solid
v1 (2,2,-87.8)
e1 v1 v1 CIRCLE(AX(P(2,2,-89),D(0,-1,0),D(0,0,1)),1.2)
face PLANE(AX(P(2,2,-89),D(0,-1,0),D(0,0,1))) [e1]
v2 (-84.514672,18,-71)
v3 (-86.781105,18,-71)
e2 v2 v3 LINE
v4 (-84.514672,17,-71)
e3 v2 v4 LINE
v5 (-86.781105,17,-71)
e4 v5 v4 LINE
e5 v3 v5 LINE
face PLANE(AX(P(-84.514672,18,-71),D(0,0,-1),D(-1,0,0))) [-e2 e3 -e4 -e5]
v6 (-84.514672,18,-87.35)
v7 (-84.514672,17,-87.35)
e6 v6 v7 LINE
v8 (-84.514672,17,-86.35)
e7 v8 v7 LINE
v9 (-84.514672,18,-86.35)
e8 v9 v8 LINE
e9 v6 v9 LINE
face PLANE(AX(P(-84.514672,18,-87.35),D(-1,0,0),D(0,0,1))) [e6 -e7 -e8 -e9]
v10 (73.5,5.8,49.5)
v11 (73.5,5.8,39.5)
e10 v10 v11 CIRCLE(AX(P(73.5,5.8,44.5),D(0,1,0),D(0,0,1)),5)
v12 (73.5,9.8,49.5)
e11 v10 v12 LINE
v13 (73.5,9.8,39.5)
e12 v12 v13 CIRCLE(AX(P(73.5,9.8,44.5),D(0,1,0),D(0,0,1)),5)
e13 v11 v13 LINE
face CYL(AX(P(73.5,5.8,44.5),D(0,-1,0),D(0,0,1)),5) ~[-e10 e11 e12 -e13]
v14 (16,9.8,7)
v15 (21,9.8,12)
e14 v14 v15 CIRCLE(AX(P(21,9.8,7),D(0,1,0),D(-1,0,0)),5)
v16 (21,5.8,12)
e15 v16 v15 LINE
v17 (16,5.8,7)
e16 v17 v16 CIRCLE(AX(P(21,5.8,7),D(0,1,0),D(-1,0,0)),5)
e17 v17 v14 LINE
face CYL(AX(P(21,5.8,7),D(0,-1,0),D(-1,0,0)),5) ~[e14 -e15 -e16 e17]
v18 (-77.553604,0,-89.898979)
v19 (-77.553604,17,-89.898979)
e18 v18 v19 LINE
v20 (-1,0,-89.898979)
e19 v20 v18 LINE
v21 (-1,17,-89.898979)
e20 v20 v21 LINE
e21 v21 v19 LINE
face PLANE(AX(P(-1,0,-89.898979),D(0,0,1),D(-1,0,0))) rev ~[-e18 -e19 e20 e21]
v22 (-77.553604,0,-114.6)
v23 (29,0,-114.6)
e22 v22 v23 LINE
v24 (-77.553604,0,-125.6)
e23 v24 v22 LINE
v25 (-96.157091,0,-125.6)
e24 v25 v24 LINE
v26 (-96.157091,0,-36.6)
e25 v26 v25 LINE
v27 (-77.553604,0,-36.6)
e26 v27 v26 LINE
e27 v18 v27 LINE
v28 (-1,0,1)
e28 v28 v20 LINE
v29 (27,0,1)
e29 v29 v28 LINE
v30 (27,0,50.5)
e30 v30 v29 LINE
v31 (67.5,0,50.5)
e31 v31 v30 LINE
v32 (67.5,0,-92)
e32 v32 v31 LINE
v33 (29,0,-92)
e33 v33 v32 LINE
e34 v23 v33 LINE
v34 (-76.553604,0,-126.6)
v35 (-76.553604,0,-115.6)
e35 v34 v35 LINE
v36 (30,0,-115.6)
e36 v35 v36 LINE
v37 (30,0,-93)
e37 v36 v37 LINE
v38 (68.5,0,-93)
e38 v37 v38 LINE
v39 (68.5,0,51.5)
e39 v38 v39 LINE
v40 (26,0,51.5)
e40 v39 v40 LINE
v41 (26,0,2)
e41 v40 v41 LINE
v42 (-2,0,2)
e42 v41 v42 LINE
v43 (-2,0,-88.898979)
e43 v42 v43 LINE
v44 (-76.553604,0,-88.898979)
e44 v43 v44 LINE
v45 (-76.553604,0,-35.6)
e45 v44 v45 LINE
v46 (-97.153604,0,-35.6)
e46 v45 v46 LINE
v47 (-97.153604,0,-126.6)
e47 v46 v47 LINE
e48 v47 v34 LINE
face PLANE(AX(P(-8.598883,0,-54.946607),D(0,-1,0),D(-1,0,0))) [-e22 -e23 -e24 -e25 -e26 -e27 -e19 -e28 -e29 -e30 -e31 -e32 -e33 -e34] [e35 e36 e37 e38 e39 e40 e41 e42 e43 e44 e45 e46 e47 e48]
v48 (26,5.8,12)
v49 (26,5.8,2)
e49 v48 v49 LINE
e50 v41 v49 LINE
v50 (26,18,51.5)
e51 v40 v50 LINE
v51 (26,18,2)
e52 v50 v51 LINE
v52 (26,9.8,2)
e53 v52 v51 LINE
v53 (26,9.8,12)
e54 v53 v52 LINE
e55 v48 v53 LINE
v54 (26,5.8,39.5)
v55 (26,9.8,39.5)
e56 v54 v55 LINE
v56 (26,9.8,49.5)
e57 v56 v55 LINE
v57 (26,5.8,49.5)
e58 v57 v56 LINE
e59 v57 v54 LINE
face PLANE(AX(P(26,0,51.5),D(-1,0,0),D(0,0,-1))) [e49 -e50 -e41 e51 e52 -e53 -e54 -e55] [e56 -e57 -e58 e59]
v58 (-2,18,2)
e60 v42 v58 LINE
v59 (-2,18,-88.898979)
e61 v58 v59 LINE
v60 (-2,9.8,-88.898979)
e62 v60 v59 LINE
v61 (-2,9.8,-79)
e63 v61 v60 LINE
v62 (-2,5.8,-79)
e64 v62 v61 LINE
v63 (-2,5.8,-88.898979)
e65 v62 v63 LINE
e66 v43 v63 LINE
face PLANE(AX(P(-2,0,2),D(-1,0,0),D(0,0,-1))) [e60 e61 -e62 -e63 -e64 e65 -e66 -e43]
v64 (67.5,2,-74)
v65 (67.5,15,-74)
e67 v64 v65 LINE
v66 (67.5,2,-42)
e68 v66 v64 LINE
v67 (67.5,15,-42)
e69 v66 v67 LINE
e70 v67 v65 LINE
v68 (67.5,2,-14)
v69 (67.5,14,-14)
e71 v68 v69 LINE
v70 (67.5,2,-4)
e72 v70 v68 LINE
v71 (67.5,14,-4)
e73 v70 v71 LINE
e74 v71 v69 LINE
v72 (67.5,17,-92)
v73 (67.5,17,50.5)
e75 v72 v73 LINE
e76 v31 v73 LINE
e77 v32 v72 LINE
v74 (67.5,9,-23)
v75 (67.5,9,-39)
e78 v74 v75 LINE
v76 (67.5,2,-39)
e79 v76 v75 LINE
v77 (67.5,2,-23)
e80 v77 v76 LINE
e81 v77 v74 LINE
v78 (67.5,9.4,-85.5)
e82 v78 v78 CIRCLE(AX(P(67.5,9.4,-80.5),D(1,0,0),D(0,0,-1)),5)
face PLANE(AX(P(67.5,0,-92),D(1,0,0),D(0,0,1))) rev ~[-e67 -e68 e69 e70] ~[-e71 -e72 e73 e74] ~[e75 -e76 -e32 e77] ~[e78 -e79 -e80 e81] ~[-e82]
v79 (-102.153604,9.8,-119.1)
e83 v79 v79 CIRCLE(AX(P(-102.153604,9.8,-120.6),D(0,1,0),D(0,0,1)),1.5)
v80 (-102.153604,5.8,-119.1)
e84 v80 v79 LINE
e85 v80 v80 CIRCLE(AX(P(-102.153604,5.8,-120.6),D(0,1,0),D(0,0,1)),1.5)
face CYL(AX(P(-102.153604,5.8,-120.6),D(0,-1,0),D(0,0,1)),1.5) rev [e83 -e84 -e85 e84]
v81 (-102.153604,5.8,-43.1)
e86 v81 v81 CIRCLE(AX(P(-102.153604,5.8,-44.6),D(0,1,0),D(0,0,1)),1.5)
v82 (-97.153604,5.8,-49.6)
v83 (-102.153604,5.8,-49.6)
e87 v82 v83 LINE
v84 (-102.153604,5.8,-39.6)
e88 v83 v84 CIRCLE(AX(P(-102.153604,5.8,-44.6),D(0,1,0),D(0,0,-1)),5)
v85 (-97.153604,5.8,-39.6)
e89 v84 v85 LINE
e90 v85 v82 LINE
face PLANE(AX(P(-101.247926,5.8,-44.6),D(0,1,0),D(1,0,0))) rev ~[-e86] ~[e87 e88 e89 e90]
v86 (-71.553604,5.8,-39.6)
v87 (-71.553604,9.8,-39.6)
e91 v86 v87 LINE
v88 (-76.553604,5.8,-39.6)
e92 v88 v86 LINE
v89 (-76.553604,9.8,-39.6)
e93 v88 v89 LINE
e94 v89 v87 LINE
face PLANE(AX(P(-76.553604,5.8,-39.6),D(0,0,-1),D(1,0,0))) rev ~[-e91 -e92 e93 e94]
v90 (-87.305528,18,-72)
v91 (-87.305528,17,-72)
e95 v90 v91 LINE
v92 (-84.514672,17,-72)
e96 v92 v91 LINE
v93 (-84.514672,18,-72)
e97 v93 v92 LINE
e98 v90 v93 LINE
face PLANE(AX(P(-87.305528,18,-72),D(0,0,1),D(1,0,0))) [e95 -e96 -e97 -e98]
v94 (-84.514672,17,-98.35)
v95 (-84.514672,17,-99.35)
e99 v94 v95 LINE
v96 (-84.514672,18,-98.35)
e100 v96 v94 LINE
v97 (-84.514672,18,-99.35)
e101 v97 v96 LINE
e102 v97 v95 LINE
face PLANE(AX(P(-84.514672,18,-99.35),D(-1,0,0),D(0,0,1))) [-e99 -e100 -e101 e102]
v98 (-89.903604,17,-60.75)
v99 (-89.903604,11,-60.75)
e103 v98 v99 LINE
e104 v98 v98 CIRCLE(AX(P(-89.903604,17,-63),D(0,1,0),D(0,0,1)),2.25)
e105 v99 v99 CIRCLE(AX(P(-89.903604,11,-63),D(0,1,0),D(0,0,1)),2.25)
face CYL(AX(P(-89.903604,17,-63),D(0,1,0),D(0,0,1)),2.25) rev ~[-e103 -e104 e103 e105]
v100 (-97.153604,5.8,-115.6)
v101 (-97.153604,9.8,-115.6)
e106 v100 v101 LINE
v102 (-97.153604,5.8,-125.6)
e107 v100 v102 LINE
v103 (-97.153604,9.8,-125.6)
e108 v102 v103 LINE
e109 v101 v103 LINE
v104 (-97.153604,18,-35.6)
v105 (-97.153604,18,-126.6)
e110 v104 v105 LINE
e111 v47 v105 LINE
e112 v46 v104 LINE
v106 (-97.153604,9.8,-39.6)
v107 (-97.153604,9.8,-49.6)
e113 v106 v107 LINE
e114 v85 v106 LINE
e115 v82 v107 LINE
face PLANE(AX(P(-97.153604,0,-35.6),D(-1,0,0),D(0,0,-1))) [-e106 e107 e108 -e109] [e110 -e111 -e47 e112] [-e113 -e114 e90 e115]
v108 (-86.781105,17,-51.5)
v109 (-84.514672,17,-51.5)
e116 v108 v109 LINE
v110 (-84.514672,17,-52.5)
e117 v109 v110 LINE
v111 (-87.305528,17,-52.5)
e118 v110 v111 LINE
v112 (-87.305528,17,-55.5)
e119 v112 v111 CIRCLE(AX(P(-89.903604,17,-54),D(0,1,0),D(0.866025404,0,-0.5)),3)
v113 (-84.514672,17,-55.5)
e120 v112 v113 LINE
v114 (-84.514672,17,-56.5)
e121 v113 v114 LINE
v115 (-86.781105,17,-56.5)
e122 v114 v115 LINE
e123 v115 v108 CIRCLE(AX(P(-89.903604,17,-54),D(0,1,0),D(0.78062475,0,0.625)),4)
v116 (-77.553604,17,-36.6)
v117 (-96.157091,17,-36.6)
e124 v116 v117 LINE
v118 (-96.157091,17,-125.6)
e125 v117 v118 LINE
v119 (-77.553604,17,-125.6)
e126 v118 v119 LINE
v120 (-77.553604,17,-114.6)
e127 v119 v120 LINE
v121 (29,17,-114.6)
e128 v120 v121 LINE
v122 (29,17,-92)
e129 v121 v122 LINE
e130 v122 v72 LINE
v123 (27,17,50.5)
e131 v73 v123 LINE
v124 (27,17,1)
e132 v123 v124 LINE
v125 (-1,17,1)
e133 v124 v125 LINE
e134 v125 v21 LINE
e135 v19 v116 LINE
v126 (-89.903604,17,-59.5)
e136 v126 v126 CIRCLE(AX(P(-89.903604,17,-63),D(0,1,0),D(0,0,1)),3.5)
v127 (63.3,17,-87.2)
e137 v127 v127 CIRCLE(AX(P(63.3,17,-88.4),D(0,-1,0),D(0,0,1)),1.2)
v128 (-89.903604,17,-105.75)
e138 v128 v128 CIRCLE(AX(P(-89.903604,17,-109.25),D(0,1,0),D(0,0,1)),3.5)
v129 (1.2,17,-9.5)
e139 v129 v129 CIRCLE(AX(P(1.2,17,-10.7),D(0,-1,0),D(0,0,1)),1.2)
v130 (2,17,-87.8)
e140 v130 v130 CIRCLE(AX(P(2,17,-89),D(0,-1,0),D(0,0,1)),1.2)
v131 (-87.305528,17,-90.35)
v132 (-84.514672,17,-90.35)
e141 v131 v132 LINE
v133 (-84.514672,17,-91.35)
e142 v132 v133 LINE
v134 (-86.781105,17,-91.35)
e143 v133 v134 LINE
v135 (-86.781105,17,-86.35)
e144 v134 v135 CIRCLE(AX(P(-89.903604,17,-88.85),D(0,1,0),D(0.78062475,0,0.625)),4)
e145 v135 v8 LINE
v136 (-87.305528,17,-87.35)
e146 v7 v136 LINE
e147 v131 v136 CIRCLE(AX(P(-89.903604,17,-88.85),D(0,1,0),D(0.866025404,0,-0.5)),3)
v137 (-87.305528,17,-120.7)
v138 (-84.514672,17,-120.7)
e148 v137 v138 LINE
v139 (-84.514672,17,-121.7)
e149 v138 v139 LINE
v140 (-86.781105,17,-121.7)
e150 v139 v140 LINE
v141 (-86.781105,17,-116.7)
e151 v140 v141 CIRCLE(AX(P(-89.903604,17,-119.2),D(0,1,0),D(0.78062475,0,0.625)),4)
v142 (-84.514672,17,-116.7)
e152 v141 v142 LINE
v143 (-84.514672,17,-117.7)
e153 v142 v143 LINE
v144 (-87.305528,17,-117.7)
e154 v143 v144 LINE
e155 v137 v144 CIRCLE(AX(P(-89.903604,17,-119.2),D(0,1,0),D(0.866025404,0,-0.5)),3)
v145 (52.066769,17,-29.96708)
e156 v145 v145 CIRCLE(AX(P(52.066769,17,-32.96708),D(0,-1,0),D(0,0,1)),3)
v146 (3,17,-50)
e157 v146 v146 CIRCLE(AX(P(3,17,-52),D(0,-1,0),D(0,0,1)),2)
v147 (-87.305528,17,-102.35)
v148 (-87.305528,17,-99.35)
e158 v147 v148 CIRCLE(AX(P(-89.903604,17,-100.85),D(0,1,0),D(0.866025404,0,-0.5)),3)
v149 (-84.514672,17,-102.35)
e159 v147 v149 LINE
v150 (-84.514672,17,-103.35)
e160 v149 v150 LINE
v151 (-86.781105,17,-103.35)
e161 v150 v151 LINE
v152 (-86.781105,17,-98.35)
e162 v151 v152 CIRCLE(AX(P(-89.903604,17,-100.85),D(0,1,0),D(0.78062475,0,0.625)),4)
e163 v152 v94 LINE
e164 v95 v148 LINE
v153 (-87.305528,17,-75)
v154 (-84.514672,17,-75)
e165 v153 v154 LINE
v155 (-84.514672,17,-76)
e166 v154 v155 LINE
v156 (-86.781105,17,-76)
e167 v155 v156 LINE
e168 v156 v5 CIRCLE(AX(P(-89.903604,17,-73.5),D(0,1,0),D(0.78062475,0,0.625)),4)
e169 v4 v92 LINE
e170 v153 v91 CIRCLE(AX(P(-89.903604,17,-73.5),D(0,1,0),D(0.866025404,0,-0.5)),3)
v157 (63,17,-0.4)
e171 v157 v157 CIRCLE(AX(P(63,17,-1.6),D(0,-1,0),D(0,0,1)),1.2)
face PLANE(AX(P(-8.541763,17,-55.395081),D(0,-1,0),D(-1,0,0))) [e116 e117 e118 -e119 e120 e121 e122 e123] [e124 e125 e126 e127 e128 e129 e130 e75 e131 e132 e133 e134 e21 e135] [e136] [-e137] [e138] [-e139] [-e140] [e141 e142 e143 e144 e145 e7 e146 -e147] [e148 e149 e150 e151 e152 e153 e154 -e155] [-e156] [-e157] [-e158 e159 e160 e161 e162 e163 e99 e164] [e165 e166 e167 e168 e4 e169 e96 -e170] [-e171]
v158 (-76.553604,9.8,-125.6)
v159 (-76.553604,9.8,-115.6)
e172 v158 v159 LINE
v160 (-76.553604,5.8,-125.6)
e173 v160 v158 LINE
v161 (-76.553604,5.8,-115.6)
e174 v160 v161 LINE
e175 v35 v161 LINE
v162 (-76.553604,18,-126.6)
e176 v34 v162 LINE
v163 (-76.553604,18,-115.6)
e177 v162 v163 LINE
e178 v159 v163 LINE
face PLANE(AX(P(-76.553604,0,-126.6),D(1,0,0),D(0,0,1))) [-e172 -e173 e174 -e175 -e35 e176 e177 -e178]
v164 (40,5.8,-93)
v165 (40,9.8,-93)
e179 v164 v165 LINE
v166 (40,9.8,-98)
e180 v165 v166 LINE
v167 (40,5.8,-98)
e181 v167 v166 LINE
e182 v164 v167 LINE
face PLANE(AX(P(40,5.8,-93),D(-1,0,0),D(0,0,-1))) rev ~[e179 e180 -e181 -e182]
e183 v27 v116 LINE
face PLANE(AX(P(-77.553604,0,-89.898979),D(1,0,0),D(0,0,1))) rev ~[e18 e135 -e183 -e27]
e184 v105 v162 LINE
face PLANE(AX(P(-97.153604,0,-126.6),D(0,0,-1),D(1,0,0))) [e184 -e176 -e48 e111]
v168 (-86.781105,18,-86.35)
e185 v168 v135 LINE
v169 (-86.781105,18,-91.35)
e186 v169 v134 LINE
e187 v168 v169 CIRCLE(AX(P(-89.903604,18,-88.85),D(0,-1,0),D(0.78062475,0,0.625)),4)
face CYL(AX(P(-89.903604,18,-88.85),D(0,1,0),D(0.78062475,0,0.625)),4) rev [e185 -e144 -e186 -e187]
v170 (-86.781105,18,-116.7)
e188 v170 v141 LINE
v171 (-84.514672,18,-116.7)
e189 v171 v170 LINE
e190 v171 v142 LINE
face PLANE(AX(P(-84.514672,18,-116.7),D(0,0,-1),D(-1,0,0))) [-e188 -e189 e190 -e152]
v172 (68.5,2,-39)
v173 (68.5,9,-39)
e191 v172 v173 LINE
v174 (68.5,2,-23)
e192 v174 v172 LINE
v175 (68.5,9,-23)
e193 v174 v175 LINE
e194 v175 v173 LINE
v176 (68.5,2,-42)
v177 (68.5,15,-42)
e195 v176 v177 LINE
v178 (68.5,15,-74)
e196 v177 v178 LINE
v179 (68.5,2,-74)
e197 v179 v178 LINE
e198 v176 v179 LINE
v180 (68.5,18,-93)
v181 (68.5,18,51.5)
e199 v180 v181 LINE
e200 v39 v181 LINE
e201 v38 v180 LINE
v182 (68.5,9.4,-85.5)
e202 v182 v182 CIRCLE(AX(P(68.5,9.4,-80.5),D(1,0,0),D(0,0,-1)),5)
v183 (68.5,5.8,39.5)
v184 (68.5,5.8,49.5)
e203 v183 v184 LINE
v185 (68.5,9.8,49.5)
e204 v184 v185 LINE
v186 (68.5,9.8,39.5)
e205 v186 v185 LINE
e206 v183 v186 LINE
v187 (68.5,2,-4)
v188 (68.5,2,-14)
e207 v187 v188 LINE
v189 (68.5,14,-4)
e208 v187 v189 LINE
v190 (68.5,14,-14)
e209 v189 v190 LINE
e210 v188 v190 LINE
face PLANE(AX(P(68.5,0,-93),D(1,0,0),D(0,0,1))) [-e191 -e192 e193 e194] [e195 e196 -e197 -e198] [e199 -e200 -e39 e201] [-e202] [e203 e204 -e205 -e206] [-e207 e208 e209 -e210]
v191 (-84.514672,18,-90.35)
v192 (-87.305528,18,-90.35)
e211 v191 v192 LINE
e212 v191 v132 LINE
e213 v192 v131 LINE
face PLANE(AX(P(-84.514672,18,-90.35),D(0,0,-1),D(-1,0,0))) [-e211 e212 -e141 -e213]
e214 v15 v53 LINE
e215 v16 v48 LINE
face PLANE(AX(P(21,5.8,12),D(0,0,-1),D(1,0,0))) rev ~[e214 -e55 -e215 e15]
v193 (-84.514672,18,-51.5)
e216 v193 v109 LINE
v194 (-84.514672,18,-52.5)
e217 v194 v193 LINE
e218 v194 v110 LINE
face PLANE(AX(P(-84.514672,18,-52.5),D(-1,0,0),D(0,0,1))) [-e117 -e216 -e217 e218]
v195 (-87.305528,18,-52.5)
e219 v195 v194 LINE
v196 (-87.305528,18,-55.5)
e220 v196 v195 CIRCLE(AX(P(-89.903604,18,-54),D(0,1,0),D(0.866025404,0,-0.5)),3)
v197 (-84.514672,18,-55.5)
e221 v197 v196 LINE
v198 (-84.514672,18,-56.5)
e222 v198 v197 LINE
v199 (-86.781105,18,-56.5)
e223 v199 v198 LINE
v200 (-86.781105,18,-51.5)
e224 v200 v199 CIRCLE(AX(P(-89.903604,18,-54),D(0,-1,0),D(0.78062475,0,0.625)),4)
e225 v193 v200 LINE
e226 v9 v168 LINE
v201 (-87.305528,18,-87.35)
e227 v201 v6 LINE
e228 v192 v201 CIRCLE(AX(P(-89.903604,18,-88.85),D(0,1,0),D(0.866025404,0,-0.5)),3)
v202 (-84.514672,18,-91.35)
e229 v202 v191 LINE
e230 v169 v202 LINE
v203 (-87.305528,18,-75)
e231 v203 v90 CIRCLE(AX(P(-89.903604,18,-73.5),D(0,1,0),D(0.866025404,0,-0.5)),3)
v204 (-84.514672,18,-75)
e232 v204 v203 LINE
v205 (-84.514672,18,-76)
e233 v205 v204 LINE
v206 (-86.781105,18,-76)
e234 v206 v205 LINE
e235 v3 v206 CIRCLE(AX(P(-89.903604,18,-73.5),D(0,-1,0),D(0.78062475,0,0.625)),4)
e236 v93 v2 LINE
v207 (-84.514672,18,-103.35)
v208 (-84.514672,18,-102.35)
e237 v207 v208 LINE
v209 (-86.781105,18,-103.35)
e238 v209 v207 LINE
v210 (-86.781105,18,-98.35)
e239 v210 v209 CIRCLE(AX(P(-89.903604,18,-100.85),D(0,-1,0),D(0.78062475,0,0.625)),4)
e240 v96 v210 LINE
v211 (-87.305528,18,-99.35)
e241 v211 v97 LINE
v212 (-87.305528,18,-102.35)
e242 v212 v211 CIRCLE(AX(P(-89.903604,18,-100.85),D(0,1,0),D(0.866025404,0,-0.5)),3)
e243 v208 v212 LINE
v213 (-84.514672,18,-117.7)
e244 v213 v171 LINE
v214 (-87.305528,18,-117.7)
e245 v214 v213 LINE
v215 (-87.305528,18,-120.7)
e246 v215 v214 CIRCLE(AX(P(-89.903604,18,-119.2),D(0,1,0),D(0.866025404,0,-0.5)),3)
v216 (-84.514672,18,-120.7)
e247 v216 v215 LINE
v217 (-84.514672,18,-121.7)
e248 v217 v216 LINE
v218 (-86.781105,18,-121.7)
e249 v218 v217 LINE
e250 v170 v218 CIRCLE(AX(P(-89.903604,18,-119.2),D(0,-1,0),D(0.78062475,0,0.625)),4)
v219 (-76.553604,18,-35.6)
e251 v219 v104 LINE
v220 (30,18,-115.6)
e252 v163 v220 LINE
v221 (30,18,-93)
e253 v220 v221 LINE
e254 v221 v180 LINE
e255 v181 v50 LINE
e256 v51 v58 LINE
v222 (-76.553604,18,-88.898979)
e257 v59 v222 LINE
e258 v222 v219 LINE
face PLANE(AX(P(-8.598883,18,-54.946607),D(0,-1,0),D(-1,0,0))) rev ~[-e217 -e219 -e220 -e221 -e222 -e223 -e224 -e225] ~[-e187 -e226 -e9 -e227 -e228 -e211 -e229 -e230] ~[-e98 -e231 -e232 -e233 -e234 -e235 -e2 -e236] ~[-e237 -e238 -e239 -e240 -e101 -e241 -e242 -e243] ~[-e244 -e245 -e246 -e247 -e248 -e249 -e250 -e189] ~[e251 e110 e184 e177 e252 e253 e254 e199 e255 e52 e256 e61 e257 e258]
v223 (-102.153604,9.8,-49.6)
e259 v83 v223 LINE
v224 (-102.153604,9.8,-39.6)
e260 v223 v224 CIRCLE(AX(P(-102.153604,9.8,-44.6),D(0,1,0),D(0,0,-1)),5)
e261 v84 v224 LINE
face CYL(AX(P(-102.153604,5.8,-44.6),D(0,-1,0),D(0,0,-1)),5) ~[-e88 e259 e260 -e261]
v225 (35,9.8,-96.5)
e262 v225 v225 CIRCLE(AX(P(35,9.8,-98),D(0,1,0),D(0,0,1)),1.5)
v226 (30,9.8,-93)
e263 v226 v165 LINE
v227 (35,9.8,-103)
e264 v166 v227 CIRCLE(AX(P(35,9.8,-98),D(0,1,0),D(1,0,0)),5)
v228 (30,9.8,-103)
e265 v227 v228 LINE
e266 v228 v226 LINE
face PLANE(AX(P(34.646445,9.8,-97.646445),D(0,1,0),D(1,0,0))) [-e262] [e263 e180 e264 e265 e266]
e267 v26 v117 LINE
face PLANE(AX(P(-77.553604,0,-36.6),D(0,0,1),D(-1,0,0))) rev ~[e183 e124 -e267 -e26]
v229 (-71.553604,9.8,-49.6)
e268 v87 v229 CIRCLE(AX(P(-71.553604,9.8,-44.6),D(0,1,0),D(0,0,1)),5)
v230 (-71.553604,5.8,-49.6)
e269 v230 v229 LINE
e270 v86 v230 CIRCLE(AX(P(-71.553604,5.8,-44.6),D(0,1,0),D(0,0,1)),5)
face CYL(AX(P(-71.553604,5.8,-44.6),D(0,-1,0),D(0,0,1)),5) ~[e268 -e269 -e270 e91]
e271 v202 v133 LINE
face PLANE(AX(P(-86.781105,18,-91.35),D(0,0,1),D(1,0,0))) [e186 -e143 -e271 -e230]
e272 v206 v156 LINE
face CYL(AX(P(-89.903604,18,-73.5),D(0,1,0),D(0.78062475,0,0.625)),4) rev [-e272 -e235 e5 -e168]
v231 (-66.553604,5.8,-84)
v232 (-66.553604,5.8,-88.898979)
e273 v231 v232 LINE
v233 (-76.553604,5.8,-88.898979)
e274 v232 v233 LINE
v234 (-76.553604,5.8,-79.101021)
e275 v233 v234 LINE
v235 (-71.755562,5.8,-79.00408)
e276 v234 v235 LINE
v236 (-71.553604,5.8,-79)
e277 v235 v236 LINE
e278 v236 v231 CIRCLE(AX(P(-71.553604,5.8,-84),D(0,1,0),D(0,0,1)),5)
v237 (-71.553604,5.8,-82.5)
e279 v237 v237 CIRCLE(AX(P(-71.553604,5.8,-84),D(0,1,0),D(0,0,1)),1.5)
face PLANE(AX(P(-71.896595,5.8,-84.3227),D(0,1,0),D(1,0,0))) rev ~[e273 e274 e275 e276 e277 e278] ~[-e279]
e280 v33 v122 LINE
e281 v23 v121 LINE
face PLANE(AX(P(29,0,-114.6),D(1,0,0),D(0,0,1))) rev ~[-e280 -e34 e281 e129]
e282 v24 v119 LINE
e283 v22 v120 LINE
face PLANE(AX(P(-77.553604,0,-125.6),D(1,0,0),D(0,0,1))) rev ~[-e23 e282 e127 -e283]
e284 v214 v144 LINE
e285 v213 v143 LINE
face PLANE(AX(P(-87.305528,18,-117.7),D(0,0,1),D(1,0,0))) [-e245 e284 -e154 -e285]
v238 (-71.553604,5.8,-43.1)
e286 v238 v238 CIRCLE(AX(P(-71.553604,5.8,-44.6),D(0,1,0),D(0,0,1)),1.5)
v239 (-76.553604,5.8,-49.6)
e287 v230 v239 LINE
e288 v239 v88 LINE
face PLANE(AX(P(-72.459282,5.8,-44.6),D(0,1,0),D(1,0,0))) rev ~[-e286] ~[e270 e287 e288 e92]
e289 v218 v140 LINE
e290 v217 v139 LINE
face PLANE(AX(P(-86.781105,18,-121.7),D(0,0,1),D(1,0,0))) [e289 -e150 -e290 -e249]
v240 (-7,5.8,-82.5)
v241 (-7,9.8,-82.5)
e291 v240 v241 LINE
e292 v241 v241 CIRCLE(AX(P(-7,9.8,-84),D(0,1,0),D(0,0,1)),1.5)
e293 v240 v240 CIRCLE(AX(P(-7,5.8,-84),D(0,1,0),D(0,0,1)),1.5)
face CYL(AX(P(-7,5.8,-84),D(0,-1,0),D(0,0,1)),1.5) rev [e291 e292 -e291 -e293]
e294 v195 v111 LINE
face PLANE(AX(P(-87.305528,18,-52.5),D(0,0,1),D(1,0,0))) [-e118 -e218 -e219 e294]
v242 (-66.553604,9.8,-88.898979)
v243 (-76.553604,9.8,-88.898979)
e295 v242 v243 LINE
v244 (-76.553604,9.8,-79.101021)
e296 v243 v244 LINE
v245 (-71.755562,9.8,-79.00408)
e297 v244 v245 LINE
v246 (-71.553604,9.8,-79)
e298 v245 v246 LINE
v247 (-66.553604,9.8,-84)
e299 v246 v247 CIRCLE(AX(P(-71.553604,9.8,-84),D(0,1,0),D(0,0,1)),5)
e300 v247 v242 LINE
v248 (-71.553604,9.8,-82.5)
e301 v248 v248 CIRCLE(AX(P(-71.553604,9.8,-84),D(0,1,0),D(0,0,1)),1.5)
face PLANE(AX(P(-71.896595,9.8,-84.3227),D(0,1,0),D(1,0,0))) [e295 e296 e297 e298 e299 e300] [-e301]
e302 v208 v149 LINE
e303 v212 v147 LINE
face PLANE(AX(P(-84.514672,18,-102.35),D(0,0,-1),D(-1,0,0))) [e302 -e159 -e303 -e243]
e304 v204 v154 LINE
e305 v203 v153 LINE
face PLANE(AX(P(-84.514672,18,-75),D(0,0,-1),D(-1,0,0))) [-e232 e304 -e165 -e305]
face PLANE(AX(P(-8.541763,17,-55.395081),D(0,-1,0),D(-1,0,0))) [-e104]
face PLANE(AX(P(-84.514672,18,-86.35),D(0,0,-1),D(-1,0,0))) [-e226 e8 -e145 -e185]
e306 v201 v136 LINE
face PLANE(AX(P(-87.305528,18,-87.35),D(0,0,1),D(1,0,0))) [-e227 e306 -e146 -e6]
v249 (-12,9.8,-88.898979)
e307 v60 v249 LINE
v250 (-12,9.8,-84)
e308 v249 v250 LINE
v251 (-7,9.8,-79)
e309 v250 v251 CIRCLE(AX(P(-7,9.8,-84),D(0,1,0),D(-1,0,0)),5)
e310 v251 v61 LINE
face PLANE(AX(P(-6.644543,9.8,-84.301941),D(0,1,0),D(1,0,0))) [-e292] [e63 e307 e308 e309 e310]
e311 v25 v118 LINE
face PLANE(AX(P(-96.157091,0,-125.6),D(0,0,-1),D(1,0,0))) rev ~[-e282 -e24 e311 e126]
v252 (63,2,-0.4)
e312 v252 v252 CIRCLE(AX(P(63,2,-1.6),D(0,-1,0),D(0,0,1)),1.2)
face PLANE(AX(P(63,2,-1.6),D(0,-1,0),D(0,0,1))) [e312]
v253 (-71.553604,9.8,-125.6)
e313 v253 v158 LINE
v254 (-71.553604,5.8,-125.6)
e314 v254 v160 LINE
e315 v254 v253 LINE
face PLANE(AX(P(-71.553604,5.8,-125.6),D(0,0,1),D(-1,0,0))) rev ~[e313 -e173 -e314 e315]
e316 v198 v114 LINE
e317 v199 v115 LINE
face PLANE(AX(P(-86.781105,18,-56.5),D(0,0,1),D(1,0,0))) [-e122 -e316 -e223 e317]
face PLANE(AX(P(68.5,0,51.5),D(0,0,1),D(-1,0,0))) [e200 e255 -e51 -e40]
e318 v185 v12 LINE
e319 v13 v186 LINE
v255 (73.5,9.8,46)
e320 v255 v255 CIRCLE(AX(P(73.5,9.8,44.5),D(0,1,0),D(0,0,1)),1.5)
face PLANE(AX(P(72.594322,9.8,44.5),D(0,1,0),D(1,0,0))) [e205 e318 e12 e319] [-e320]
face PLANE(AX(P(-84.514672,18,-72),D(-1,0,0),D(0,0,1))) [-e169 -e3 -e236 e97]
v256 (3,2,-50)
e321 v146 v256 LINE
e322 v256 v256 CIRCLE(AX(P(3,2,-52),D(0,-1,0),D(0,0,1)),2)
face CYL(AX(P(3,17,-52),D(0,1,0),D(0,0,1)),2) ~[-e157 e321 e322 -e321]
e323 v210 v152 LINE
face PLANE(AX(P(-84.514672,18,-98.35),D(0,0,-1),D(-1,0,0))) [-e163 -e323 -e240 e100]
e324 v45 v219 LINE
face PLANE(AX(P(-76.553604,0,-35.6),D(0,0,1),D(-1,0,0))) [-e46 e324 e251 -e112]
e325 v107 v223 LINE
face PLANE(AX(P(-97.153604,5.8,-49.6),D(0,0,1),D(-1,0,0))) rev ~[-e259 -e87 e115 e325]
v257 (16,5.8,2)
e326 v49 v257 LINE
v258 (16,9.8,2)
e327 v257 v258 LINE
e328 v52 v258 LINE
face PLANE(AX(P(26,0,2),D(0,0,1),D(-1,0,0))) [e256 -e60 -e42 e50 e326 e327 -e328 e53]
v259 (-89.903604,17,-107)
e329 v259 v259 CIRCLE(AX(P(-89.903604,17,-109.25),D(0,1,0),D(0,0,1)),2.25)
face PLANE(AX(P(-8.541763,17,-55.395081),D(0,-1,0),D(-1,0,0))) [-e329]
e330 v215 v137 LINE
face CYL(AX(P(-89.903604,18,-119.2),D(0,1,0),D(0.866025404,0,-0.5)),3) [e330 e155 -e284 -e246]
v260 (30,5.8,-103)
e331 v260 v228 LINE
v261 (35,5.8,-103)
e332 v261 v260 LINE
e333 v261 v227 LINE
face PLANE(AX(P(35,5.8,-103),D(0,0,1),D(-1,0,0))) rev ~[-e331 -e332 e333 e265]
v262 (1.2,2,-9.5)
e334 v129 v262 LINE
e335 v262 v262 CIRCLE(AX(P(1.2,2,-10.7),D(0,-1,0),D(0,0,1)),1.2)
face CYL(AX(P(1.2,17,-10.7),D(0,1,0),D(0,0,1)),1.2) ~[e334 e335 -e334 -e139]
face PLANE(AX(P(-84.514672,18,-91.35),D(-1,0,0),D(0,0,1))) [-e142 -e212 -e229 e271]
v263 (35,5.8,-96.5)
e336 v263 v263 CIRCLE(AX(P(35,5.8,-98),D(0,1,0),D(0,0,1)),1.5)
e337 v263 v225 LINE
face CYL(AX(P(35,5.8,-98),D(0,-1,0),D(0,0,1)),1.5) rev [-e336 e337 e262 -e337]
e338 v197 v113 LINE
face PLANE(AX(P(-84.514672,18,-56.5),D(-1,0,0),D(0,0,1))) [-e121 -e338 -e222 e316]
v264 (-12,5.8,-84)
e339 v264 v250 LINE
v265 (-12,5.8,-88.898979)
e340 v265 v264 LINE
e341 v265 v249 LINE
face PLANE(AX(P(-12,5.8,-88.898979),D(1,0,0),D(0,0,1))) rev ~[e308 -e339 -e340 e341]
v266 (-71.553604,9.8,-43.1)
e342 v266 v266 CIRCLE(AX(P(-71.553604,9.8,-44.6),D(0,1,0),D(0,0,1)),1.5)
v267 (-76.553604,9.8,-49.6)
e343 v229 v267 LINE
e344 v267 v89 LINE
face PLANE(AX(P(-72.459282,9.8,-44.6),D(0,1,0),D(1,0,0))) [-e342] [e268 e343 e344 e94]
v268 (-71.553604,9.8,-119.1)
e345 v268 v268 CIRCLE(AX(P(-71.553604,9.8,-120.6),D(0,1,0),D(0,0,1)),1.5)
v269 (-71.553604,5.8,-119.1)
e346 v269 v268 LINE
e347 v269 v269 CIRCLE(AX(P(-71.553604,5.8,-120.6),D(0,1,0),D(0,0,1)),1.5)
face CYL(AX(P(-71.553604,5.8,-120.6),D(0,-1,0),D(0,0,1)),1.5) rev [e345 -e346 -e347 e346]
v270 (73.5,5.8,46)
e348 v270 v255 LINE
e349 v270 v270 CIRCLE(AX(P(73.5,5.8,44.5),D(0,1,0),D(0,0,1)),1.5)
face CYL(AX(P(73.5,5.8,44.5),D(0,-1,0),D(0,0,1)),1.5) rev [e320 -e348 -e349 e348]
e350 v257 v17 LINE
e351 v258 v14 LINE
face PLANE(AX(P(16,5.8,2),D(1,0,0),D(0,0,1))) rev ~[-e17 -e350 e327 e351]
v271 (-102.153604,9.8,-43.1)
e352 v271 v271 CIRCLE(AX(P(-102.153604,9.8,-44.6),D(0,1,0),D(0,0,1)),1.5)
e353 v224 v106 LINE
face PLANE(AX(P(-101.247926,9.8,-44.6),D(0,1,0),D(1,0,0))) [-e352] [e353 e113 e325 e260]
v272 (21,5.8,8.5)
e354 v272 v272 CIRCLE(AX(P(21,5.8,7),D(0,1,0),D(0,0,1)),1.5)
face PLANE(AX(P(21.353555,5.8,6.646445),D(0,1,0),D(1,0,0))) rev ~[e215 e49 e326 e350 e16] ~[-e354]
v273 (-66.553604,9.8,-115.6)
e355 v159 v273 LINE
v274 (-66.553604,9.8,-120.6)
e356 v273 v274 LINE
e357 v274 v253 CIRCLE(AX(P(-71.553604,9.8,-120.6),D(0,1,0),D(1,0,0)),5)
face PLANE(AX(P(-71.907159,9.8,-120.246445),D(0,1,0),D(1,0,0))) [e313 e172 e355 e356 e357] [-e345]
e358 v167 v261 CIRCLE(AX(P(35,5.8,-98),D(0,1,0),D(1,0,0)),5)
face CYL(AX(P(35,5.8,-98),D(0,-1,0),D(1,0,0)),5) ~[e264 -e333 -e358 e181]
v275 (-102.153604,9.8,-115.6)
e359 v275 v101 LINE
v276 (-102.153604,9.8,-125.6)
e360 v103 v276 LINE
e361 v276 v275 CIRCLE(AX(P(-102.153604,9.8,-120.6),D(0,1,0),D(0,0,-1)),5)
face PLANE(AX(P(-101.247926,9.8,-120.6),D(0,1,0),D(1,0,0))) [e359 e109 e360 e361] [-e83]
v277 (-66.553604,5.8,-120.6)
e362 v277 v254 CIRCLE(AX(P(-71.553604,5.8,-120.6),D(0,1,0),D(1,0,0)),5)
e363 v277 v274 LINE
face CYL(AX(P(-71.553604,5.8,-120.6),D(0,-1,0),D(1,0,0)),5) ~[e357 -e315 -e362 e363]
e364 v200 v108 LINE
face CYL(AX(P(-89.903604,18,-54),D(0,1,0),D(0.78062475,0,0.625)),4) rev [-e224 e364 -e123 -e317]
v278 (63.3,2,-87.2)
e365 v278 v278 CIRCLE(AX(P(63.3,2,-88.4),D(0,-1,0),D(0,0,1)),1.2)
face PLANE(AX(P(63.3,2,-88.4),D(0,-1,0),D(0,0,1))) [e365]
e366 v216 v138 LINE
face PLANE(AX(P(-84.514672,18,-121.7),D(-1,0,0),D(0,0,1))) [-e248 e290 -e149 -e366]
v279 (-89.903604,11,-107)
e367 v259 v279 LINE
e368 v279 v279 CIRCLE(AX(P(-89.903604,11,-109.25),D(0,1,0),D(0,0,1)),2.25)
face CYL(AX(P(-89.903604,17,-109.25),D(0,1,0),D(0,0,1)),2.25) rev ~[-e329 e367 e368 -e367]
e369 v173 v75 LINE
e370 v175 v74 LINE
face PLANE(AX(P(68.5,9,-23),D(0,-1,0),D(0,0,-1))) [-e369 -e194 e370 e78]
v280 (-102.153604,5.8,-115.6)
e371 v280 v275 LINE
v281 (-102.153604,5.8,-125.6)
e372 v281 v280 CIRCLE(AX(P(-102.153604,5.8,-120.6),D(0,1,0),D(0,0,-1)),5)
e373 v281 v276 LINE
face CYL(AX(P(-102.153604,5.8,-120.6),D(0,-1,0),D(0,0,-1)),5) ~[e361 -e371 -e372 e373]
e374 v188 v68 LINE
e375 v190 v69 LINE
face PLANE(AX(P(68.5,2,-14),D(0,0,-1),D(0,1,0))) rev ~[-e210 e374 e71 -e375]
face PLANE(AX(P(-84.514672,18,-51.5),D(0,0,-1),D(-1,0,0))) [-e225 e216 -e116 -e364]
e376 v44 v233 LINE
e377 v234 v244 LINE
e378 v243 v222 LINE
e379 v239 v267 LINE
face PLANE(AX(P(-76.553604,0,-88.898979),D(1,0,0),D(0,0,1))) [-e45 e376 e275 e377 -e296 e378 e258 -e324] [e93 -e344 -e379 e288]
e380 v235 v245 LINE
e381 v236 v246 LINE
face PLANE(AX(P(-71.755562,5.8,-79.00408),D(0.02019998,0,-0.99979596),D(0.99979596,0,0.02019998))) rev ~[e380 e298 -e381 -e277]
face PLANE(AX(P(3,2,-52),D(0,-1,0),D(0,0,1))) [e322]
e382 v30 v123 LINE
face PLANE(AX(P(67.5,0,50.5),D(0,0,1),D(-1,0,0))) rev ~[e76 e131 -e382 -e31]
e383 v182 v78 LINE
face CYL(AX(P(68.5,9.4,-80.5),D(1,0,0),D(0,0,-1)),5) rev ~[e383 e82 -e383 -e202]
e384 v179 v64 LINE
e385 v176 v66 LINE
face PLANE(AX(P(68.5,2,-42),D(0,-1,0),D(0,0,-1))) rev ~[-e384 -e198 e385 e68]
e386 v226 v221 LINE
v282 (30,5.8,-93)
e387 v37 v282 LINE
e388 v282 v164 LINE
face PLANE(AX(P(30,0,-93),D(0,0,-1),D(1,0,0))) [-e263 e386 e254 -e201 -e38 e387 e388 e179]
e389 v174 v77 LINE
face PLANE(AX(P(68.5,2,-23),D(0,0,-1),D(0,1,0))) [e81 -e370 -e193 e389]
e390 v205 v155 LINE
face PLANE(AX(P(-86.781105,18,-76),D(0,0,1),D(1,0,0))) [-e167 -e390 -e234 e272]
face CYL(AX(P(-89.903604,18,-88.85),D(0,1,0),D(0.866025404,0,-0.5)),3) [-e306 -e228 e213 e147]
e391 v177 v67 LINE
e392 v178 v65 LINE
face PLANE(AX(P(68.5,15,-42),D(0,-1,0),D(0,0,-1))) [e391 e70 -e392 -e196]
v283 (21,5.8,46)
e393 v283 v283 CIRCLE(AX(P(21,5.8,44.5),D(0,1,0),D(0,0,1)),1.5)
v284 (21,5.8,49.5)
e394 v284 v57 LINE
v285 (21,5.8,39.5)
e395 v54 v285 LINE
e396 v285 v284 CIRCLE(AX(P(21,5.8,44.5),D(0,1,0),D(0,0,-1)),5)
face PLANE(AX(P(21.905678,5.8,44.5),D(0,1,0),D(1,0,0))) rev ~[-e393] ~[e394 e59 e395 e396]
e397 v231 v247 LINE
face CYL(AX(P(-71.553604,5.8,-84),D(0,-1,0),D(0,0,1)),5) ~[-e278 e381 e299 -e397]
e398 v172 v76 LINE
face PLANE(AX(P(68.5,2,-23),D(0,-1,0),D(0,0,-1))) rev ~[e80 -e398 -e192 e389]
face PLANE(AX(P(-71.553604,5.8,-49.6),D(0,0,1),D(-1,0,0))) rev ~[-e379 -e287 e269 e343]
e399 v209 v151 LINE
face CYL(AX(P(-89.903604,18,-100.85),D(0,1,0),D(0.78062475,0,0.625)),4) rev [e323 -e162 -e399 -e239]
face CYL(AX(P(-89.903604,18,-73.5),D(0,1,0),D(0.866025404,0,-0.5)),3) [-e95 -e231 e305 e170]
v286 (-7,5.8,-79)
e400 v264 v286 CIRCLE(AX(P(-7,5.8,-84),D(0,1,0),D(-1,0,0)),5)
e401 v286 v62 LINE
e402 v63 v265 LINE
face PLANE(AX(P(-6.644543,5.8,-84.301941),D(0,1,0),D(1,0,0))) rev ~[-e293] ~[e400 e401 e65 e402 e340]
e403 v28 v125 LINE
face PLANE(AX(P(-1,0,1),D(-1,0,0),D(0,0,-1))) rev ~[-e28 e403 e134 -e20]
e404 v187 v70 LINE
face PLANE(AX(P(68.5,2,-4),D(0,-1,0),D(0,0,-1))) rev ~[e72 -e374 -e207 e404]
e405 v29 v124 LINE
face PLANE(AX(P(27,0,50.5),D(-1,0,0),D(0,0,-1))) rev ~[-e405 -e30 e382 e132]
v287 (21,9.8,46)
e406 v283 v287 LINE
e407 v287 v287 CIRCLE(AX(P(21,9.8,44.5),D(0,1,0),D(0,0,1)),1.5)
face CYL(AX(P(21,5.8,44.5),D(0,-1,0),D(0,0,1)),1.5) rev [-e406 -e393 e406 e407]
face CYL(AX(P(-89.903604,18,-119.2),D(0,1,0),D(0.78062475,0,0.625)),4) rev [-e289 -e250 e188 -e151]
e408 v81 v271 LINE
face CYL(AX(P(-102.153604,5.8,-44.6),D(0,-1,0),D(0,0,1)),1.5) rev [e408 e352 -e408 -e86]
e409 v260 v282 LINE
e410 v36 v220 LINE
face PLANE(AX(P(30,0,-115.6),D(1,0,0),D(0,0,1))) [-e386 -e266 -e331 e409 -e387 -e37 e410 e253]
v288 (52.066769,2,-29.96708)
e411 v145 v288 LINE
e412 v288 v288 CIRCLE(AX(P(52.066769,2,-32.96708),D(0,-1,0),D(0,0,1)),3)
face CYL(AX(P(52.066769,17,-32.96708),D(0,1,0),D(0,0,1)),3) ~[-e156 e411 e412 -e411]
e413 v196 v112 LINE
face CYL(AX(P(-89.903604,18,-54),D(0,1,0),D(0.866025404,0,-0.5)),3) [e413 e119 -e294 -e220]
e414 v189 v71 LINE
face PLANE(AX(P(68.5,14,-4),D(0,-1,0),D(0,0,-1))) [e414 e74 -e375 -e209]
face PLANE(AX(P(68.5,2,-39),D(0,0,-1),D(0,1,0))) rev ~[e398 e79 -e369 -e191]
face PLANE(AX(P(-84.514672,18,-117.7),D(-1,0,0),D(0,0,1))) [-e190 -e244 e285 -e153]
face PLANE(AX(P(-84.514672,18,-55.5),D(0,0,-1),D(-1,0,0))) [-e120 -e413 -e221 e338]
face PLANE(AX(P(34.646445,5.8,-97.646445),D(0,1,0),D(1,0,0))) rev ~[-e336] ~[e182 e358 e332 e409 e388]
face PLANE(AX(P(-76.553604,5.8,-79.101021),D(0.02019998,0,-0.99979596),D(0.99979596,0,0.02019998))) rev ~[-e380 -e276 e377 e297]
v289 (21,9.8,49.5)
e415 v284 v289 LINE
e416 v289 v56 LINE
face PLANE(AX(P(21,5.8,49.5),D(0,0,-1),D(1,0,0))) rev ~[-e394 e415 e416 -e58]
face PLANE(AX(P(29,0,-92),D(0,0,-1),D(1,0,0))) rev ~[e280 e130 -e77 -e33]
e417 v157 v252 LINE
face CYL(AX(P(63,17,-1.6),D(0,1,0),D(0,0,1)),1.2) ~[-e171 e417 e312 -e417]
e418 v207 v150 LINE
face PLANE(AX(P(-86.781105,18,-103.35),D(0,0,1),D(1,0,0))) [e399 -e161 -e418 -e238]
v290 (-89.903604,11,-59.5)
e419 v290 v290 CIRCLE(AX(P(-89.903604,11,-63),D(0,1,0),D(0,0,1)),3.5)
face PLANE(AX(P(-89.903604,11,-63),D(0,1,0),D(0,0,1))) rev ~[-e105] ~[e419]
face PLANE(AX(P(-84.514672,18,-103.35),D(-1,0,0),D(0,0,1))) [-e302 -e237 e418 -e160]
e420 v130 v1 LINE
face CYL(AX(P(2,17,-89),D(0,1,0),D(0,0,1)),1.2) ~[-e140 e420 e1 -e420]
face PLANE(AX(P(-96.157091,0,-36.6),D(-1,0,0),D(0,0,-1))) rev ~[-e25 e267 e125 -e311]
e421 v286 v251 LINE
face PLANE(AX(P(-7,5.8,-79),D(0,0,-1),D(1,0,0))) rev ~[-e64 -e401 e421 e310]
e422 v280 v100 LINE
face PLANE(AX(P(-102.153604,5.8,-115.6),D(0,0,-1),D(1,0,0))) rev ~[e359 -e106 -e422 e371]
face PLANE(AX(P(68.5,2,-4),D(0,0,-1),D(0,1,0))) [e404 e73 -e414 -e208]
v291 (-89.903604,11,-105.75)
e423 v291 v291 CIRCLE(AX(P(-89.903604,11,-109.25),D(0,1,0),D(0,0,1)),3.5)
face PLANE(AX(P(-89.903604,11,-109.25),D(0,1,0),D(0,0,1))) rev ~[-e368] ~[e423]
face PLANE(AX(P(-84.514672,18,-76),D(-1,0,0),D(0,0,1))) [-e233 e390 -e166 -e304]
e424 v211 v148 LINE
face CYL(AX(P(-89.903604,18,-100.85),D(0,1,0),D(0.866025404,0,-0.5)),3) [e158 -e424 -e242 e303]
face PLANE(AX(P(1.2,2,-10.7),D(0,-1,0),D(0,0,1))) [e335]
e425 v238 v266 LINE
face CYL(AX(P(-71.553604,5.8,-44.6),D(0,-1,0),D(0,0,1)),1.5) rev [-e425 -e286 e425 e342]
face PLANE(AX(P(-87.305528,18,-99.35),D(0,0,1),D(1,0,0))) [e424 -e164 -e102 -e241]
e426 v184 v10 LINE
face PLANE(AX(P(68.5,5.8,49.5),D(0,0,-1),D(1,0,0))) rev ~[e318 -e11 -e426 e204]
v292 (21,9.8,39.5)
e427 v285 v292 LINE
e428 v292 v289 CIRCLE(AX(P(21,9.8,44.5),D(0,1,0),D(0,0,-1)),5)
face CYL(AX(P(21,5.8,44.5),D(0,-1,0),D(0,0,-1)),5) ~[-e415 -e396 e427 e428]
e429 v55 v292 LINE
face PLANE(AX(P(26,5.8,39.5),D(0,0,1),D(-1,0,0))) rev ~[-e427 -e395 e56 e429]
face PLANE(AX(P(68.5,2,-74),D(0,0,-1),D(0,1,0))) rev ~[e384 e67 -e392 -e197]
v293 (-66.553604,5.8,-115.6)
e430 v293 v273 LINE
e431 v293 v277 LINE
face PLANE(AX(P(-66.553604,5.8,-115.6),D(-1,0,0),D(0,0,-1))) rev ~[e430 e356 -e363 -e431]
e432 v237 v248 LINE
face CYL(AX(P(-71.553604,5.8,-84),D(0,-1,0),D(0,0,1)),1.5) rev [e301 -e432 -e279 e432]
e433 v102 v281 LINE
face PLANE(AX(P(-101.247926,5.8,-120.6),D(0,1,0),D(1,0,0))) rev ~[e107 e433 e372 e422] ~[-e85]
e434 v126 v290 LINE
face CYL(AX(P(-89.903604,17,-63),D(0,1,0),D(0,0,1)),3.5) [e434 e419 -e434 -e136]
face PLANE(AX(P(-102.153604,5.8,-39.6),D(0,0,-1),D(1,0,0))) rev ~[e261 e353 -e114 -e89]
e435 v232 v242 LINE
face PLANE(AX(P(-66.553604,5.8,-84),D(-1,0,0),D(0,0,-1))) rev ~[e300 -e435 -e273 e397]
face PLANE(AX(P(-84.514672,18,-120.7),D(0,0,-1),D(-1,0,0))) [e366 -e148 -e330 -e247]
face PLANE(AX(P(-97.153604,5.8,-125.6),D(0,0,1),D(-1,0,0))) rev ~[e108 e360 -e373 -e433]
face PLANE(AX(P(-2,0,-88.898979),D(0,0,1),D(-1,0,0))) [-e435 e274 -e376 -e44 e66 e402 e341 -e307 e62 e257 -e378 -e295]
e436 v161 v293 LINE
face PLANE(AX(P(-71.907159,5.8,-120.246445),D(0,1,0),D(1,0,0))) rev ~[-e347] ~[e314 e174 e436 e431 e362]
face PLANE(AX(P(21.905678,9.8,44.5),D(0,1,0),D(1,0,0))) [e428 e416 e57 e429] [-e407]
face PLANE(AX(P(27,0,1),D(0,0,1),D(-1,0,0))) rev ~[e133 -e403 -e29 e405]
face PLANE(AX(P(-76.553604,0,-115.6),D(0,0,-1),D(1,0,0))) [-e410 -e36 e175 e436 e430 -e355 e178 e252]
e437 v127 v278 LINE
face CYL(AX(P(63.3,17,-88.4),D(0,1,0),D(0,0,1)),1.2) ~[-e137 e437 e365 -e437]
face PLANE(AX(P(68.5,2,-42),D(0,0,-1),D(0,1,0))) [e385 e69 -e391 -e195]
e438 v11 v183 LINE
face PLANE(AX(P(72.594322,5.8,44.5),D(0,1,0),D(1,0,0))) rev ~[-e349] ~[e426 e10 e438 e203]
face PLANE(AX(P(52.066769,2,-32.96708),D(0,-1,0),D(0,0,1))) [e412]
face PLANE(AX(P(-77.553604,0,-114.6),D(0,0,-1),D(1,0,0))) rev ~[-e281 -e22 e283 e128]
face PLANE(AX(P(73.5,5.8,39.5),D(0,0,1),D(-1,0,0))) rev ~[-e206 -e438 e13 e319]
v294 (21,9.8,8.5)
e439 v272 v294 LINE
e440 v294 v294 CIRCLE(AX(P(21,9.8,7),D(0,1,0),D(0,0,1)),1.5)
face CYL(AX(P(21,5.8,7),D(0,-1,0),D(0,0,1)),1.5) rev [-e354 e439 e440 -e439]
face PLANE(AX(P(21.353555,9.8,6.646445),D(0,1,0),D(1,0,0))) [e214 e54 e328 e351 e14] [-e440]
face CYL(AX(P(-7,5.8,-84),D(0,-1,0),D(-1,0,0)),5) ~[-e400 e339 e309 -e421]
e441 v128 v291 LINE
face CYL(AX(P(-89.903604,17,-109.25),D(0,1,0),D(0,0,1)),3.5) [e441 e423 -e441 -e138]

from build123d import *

# Parameters (mm, degrees)
BOSS_EXTRUDE5_DEPTH     = 18
BOSS_EXTRUDE6_START     = 17
BOSS_EXTRUDE6_DEPTH     = 1
BOSS_EXTRUDE7_START     = 5.8
SKETCH2_5_R             = 1.5
BOSS_EXTRUDE7_DEPTH     = 4
CUT_EXTRUDE1_DEPTH      = 167.833614155
CUT_EXTRUDE1_DEPTH_BACK = 167.833614155
BOSS_EXTRUDE9_START     = -1
SKETCH6_R               = 3.5
SKETCH6_R_2             = 2.25
BOSS_EXTRUDE9_DEPTH     = 6
SKETCH8_R               = 5
SKETCH8_W               = 32
SKETCH8_H               = 13
SKETCH8_W_2             = 16
SKETCH8_H_2             = 7
SKETCH8_W_3             = 10
SKETCH8_H_3             = 12
CUT_EXTRUDE2_DEPTH      = 218.268839312
CUT_EXTRUDE2_DEPTH_BACK = 6
SKETCH7_R               = 1.2
SKETCH7_R_2             = 3
SKETCH7_R_3             = 2
BOSS_EXTRUDE10_DEPTH    = 15


with BuildPart() as part:
    # Sketch2 → Boss-Extrude5 (new body)
    with BuildSketch(Plane(origin=(0, 0, 0), x_dir=(1, 0, 0), z_dir=(0, 1, 0))):
        Polygon((-76.553603822, 35.6), (-97.153603822, 35.6), (-97.153603822, 126.6), (-76.553603822, 126.6), (-76.553603822, 115.6), (30, 115.6), (30, 93), (68.5, 93), (68.5, -51.5), (26, -51.5), (26, -2), (-2, -2), (-2, 88.898979486), (-76.553603822, 88.898979486), align=None)
        Polygon((-77.553603822, 89.898979486), (-77.553603822, 36.6), (-96.157091143, 36.6), (-96.157091143, 125.6), (-77.553603822, 125.6), (-77.553603822, 114.6), (29, 114.6), (29, 92), (67.5, 92), (67.5, -50.5), (27, -50.5), (27, -1), (-1, -1), (-1, 89.898979486), align=None, mode=Mode.SUBTRACT)
    extrude(amount=BOSS_EXTRUDE5_DEPTH)

    # Sketch2<4> → Boss-Extrude6 (add)
    with BuildSketch(Plane(origin=(0, 0, 0), x_dir=(1, 0, 0), z_dir=(0, 1, 0)).offset(BOSS_EXTRUDE6_START)):
        Polygon((-77.553603822, 36.6), (-96.157091143, 36.6), (-96.157091143, 125.6), (-77.553603822, 125.6), (-77.553603822, 114.6), (29, 114.6), (29, 92), (67.5, 92), (67.5, -50.5), (27, -50.5), (27, -1), (-1, -1), (-1, 89.898979486), (-77.553603822, 89.898979486), align=None)
    extrude(amount=BOSS_EXTRUDE6_DEPTH)

    # Sketch2<5> → Boss-Extrude7 (add)
    with BuildSketch(Plane(origin=(0, 0, 0), x_dir=(1, 0, 0), z_dir=(0, 1, 0)).offset(BOSS_EXTRUDE7_START)):
        with BuildLine():
            Line((-102.153603822, 39.6), (-97.153603822, 39.6))
            Line((-97.153603822, 39.6), (-97.153603822, 49.6))
            Line((-97.153603822, 49.6), (-102.153603822, 49.6))
            ThreePointArc((-102.153603822, 49.6), (-107.153603822, 44.6), (-102.153603822, 39.6))
        make_face()
        with Locations(Location((-102.153603822, 44.6, 0), (0, 0, 270))):
            Circle(SKETCH2_5_R, mode=Mode.SUBTRACT)
        with BuildLine():
            Line((-76.553603822, 49.6), (-76.553603822, 39.6))
            Line((-76.553603822, 39.6), (-71.553603822, 39.6))
            ThreePointArc((-71.553603822, 39.6), (-66.553603822, 44.6), (-71.553603822, 49.6))
            Line((-71.553603822, 49.6), (-76.553603822, 49.6))
        make_face()
        with Locations(Location((-71.553603822, 44.6, 0), (0, 0, 270))):
            Circle(SKETCH2_5_R, mode=Mode.SUBTRACT)
        with BuildLine():
            Line((-76.553603822, 88.898979486), (-76.553603822, 79.101020514))
            Line((-76.553603822, 79.101020514), (-71.755562411, 79.004080392))
            Line((-71.755562411, 79.004080392), (-71.553603822, 79))
            ThreePointArc((-71.553603822, 79), (-68.018069917, 80.464466094), (-66.553603822, 84))
            Line((-66.553603822, 84), (-66.553603822, 88.898979486))
            Line((-66.553603822, 88.898979486), (-76.553603822, 88.898979486))
        make_face()
        with Locations(Location((-71.553603822, 84, 0), (0, 0, 270))):
            Circle(SKETCH2_5_R, mode=Mode.SUBTRACT)
        with BuildLine():
            Line((-2, 88.898979486), (-12, 88.898979486))
            Line((-12, 88.898979486), (-12, 84))
            ThreePointArc((-12, 84), (-10.535533906, 80.464466094), (-7, 79))
            Line((-7, 79), (-2, 79))
            Line((-2, 79), (-2, 88.898979486))
        make_face()
        with Locations(Location((-7, 84, 0), (0, 0, 270))):
            Circle(SKETCH2_5_R, mode=Mode.SUBTRACT)
        with BuildLine():
            Line((26, -2), (16, -2))
            Line((16, -2), (16, -7))
            ThreePointArc((16, -7), (17.464466094, -10.535533906), (21, -12))
            Line((21, -12), (26, -12))
            Line((26, -12), (26, -2))
        make_face()
        with Locations(Location((21, -7, 0), (0, 0, 270))):
            Circle(SKETCH2_5_R, mode=Mode.SUBTRACT)
        with BuildLine():
            Line((26, -49.5), (26, -39.5))
            Line((26, -39.5), (21, -39.5))
            ThreePointArc((21, -39.5), (16, -44.5), (21, -49.5))
            Line((21, -49.5), (26, -49.5))
        make_face()
        with Locations(Location((21, -44.5, 0), (0, 0, 270))):
            Circle(SKETCH2_5_R, mode=Mode.SUBTRACT)
        with BuildLine():
            Line((73.5, -39.5), (68.5, -39.5))
            Line((68.5, -39.5), (68.5, -49.5))
            Line((68.5, -49.5), (73.5, -49.5))
            ThreePointArc((73.5, -49.5), (78.5, -44.5), (73.5, -39.5))
        make_face()
        with Locations(Location((73.5, -44.5, 0), (0, 0, 270))):
            Circle(SKETCH2_5_R, mode=Mode.SUBTRACT)
        with BuildLine():
            Line((35, 103), (30, 103))
            Line((30, 103), (30, 93))
            Line((30, 93), (40, 93))
            Line((40, 93), (40, 98))
            ThreePointArc((40, 98), (38.535533906, 101.535533906), (35, 103))
        make_face()
        with Locations(Location((35, 98, 0), (0, 0, 270))):
            Circle(SKETCH2_5_R, mode=Mode.SUBTRACT)
        with BuildLine():
            Line((-102.153603822, 115.6), (-97.153603822, 115.6))
            Line((-97.153603822, 115.6), (-97.153603822, 125.6))
            Line((-97.153603822, 125.6), (-102.153603822, 125.6))
            ThreePointArc((-102.153603822, 125.6), (-107.153603822, 120.6), (-102.153603822, 115.6))
        make_face()
        with Locations(Location((-102.153603822, 120.6, 0), (0, 0, 270))):
            Circle(SKETCH2_5_R, mode=Mode.SUBTRACT)
        with BuildLine():
            Line((-71.553603822, 125.6), (-76.553603822, 125.6))
            Line((-76.553603822, 125.6), (-76.553603822, 115.6))
            Line((-76.553603822, 115.6), (-66.553603822, 115.6))
            Line((-66.553603822, 115.6), (-66.553603822, 120.6))
            ThreePointArc((-66.553603822, 120.6), (-68.018069917, 124.135533906), (-71.553603822, 125.6))
        make_face()
        with Locations(Location((-71.553603822, 120.6, 0), (0, 0, 270))):
            Circle(SKETCH2_5_R, mode=Mode.SUBTRACT)
        with Locations((73.5, 84)):
            Circle(SKETCH2_5_R)
    extrude(amount=BOSS_EXTRUDE7_DEPTH)


with BuildPart() as boss_extrude7_kept_piece:
    # of the separate pieces the step leaves, the one the design keeps (boss_extrude7_pieces_kept)
    add(part.part.solids().sort_by_distance((-76.553603822, 0, -35.6))[0])

    # Sketch5 → Cut-Extrude1 (cut, two sides)
    with BuildSketch(Plane(origin=(0, 18, 0), x_dir=(1, 0, 0), z_dir=(0, 1, 0))) as cut_extrude1_sk:
        with BuildLine():
            Line((-86.781104823, 121.7), (-84.514671921, 121.7))
            Line((-84.514671921, 121.7), (-84.514671921, 120.7))
            Line((-84.514671921, 120.7), (-87.305527611, 120.7))
            ThreePointArc((-87.305527611, 120.7), (-92.903603822, 119.2), (-87.305527611, 117.7))
            Line((-87.305527611, 117.7), (-84.514671921, 117.7))
            Line((-84.514671921, 117.7), (-84.514671921, 116.7))
            Line((-84.514671921, 116.7), (-86.781104823, 116.7))
            ThreePointArc((-86.781104823, 116.7), (-93.903603822, 119.2), (-86.781104823, 121.7))
        make_face()
        with BuildLine():
            Line((-86.781104823, 103.35), (-84.514671921, 103.35))
            Line((-84.514671921, 103.35), (-84.514671921, 102.35))
            Line((-84.514671921, 102.35), (-87.305527611, 102.35))
            ThreePointArc((-87.305527611, 102.35), (-92.903603822, 100.85), (-87.305527611, 99.35))
            Line((-87.305527611, 99.35), (-84.514671921, 99.35))
            Line((-84.514671921, 99.35), (-84.514671921, 98.35))
            Line((-84.514671921, 98.35), (-86.781104823, 98.35))
            ThreePointArc((-86.781104823, 98.35), (-93.903603822, 100.85), (-86.781104823, 103.35))
        make_face()
        with BuildLine():
            Line((-86.781104823, 91.35), (-84.514671921, 91.35))
            Line((-84.514671921, 91.35), (-84.514671921, 90.35))
            Line((-84.514671921, 90.35), (-87.305527611, 90.35))
            ThreePointArc((-87.305527611, 90.35), (-92.903603822, 88.85), (-87.305527611, 87.35))
            Line((-87.305527611, 87.35), (-84.514671921, 87.35))
            Line((-84.514671921, 87.35), (-84.514671921, 86.35))
            Line((-84.514671921, 86.35), (-86.781104823, 86.35))
            ThreePointArc((-86.781104823, 86.35), (-93.903603822, 88.85), (-86.781104823, 91.35))
        make_face()
        with BuildLine():
            Line((-86.781104823, 76), (-84.514671921, 76))
            Line((-84.514671921, 76), (-84.514671921, 75))
            Line((-84.514671921, 75), (-87.305527611, 75))
            ThreePointArc((-87.305527611, 75), (-92.903603822, 73.5), (-87.305527611, 72))
            Line((-87.305527611, 72), (-84.514671921, 72))
            Line((-84.514671921, 72), (-84.514671921, 71))
            Line((-84.514671921, 71), (-86.781104823, 71))
            ThreePointArc((-86.781104823, 71), (-93.903603822, 73.5), (-86.781104823, 76))
        make_face()
        with BuildLine():
            Line((-86.781104823, 56.5), (-84.514671921, 56.5))
            Line((-84.514671921, 56.5), (-84.514671921, 55.5))
            Line((-84.514671921, 55.5), (-87.305527611, 55.5))
            ThreePointArc((-87.305527611, 55.5), (-92.903603822, 54), (-87.305527611, 52.5))
            Line((-87.305527611, 52.5), (-84.514671921, 52.5))
            Line((-84.514671921, 52.5), (-84.514671921, 51.5))
            Line((-84.514671921, 51.5), (-86.781104823, 51.5))
            ThreePointArc((-86.781104823, 51.5), (-93.903603822, 54), (-86.781104823, 56.5))
        make_face()
    extrude(amount=CUT_EXTRUDE1_DEPTH, mode=Mode.SUBTRACT)
    extrude(cut_extrude1_sk.sketch, amount=-CUT_EXTRUDE1_DEPTH_BACK, mode=Mode.SUBTRACT)

    # Sketch6 → Boss-Extrude9 (add)
    with BuildSketch(Plane(origin=(0, 18, 0), x_dir=(1, 0, 0), z_dir=(0, 1, 0)).offset(BOSS_EXTRUDE9_START)):
        with Locations(Location((-89.903603822, 109.25, 0), (0, 0, 270))):
            Circle(SKETCH6_R)
        with Locations(Location((-89.903603822, 109.25, 0), (0, 0, 270))):
            Circle(SKETCH6_R_2, mode=Mode.SUBTRACT)
        with Locations(Location((-89.903603822, 63, 0), (0, 0, 270))):
            Circle(SKETCH6_R)
        with Locations(Location((-89.903603822, 63, 0), (0, 0, 270))):
            Circle(SKETCH6_R_2, mode=Mode.SUBTRACT)
    extrude(amount=-BOSS_EXTRUDE9_DEPTH)

    # Sketch8 → Cut-Extrude2 (cut, two sides)
    with BuildSketch(Plane(origin=(68.5, 0, 0), x_dir=(0, 0, -1), z_dir=(1, 0, 0))) as cut_extrude2_sk:
        with Locations((80.5, 9.4)):
            Circle(SKETCH8_R)
        with Locations((58, 8.5)):
            Rectangle(SKETCH8_W, SKETCH8_H)
        with Locations((31, 5.5)):
            Rectangle(SKETCH8_W_2, SKETCH8_H_2)
        with Locations((9, 8)):
            Rectangle(SKETCH8_W_3, SKETCH8_H_3)
    extrude(amount=CUT_EXTRUDE2_DEPTH, mode=Mode.SUBTRACT)
    extrude(cut_extrude2_sk.sketch, amount=-CUT_EXTRUDE2_DEPTH_BACK, mode=Mode.SUBTRACT)

    # Sketch7 → Boss-Extrude10 (add)
    with BuildSketch(Plane.XZ.offset(-17)):
        with Locations(Location((1.2, -10.7, 0), (0, 0, 90))):
            Circle(SKETCH7_R)
        with Locations(Location((2, -89, 0), (0, 0, 90))):
            Circle(SKETCH7_R)
        with Locations(Location((63.3, -88.4, 0), (0, 0, 90))):
            Circle(SKETCH7_R)
        with Locations(Location((63, -1.6, 0), (0, 0, 90))):
            Circle(SKETCH7_R)
        with Locations(Location((52.066768514, -32.967079536, 0), (0, 0, 90))):
            Circle(SKETCH7_R_2)
        with Locations(Location((3, -52, 0), (0, 0, 90))):
            Circle(SKETCH7_R_3)
    extrude(amount=BOSS_EXTRUDE10_DEPTH)


solid = boss_extrude7_kept_piece.part
